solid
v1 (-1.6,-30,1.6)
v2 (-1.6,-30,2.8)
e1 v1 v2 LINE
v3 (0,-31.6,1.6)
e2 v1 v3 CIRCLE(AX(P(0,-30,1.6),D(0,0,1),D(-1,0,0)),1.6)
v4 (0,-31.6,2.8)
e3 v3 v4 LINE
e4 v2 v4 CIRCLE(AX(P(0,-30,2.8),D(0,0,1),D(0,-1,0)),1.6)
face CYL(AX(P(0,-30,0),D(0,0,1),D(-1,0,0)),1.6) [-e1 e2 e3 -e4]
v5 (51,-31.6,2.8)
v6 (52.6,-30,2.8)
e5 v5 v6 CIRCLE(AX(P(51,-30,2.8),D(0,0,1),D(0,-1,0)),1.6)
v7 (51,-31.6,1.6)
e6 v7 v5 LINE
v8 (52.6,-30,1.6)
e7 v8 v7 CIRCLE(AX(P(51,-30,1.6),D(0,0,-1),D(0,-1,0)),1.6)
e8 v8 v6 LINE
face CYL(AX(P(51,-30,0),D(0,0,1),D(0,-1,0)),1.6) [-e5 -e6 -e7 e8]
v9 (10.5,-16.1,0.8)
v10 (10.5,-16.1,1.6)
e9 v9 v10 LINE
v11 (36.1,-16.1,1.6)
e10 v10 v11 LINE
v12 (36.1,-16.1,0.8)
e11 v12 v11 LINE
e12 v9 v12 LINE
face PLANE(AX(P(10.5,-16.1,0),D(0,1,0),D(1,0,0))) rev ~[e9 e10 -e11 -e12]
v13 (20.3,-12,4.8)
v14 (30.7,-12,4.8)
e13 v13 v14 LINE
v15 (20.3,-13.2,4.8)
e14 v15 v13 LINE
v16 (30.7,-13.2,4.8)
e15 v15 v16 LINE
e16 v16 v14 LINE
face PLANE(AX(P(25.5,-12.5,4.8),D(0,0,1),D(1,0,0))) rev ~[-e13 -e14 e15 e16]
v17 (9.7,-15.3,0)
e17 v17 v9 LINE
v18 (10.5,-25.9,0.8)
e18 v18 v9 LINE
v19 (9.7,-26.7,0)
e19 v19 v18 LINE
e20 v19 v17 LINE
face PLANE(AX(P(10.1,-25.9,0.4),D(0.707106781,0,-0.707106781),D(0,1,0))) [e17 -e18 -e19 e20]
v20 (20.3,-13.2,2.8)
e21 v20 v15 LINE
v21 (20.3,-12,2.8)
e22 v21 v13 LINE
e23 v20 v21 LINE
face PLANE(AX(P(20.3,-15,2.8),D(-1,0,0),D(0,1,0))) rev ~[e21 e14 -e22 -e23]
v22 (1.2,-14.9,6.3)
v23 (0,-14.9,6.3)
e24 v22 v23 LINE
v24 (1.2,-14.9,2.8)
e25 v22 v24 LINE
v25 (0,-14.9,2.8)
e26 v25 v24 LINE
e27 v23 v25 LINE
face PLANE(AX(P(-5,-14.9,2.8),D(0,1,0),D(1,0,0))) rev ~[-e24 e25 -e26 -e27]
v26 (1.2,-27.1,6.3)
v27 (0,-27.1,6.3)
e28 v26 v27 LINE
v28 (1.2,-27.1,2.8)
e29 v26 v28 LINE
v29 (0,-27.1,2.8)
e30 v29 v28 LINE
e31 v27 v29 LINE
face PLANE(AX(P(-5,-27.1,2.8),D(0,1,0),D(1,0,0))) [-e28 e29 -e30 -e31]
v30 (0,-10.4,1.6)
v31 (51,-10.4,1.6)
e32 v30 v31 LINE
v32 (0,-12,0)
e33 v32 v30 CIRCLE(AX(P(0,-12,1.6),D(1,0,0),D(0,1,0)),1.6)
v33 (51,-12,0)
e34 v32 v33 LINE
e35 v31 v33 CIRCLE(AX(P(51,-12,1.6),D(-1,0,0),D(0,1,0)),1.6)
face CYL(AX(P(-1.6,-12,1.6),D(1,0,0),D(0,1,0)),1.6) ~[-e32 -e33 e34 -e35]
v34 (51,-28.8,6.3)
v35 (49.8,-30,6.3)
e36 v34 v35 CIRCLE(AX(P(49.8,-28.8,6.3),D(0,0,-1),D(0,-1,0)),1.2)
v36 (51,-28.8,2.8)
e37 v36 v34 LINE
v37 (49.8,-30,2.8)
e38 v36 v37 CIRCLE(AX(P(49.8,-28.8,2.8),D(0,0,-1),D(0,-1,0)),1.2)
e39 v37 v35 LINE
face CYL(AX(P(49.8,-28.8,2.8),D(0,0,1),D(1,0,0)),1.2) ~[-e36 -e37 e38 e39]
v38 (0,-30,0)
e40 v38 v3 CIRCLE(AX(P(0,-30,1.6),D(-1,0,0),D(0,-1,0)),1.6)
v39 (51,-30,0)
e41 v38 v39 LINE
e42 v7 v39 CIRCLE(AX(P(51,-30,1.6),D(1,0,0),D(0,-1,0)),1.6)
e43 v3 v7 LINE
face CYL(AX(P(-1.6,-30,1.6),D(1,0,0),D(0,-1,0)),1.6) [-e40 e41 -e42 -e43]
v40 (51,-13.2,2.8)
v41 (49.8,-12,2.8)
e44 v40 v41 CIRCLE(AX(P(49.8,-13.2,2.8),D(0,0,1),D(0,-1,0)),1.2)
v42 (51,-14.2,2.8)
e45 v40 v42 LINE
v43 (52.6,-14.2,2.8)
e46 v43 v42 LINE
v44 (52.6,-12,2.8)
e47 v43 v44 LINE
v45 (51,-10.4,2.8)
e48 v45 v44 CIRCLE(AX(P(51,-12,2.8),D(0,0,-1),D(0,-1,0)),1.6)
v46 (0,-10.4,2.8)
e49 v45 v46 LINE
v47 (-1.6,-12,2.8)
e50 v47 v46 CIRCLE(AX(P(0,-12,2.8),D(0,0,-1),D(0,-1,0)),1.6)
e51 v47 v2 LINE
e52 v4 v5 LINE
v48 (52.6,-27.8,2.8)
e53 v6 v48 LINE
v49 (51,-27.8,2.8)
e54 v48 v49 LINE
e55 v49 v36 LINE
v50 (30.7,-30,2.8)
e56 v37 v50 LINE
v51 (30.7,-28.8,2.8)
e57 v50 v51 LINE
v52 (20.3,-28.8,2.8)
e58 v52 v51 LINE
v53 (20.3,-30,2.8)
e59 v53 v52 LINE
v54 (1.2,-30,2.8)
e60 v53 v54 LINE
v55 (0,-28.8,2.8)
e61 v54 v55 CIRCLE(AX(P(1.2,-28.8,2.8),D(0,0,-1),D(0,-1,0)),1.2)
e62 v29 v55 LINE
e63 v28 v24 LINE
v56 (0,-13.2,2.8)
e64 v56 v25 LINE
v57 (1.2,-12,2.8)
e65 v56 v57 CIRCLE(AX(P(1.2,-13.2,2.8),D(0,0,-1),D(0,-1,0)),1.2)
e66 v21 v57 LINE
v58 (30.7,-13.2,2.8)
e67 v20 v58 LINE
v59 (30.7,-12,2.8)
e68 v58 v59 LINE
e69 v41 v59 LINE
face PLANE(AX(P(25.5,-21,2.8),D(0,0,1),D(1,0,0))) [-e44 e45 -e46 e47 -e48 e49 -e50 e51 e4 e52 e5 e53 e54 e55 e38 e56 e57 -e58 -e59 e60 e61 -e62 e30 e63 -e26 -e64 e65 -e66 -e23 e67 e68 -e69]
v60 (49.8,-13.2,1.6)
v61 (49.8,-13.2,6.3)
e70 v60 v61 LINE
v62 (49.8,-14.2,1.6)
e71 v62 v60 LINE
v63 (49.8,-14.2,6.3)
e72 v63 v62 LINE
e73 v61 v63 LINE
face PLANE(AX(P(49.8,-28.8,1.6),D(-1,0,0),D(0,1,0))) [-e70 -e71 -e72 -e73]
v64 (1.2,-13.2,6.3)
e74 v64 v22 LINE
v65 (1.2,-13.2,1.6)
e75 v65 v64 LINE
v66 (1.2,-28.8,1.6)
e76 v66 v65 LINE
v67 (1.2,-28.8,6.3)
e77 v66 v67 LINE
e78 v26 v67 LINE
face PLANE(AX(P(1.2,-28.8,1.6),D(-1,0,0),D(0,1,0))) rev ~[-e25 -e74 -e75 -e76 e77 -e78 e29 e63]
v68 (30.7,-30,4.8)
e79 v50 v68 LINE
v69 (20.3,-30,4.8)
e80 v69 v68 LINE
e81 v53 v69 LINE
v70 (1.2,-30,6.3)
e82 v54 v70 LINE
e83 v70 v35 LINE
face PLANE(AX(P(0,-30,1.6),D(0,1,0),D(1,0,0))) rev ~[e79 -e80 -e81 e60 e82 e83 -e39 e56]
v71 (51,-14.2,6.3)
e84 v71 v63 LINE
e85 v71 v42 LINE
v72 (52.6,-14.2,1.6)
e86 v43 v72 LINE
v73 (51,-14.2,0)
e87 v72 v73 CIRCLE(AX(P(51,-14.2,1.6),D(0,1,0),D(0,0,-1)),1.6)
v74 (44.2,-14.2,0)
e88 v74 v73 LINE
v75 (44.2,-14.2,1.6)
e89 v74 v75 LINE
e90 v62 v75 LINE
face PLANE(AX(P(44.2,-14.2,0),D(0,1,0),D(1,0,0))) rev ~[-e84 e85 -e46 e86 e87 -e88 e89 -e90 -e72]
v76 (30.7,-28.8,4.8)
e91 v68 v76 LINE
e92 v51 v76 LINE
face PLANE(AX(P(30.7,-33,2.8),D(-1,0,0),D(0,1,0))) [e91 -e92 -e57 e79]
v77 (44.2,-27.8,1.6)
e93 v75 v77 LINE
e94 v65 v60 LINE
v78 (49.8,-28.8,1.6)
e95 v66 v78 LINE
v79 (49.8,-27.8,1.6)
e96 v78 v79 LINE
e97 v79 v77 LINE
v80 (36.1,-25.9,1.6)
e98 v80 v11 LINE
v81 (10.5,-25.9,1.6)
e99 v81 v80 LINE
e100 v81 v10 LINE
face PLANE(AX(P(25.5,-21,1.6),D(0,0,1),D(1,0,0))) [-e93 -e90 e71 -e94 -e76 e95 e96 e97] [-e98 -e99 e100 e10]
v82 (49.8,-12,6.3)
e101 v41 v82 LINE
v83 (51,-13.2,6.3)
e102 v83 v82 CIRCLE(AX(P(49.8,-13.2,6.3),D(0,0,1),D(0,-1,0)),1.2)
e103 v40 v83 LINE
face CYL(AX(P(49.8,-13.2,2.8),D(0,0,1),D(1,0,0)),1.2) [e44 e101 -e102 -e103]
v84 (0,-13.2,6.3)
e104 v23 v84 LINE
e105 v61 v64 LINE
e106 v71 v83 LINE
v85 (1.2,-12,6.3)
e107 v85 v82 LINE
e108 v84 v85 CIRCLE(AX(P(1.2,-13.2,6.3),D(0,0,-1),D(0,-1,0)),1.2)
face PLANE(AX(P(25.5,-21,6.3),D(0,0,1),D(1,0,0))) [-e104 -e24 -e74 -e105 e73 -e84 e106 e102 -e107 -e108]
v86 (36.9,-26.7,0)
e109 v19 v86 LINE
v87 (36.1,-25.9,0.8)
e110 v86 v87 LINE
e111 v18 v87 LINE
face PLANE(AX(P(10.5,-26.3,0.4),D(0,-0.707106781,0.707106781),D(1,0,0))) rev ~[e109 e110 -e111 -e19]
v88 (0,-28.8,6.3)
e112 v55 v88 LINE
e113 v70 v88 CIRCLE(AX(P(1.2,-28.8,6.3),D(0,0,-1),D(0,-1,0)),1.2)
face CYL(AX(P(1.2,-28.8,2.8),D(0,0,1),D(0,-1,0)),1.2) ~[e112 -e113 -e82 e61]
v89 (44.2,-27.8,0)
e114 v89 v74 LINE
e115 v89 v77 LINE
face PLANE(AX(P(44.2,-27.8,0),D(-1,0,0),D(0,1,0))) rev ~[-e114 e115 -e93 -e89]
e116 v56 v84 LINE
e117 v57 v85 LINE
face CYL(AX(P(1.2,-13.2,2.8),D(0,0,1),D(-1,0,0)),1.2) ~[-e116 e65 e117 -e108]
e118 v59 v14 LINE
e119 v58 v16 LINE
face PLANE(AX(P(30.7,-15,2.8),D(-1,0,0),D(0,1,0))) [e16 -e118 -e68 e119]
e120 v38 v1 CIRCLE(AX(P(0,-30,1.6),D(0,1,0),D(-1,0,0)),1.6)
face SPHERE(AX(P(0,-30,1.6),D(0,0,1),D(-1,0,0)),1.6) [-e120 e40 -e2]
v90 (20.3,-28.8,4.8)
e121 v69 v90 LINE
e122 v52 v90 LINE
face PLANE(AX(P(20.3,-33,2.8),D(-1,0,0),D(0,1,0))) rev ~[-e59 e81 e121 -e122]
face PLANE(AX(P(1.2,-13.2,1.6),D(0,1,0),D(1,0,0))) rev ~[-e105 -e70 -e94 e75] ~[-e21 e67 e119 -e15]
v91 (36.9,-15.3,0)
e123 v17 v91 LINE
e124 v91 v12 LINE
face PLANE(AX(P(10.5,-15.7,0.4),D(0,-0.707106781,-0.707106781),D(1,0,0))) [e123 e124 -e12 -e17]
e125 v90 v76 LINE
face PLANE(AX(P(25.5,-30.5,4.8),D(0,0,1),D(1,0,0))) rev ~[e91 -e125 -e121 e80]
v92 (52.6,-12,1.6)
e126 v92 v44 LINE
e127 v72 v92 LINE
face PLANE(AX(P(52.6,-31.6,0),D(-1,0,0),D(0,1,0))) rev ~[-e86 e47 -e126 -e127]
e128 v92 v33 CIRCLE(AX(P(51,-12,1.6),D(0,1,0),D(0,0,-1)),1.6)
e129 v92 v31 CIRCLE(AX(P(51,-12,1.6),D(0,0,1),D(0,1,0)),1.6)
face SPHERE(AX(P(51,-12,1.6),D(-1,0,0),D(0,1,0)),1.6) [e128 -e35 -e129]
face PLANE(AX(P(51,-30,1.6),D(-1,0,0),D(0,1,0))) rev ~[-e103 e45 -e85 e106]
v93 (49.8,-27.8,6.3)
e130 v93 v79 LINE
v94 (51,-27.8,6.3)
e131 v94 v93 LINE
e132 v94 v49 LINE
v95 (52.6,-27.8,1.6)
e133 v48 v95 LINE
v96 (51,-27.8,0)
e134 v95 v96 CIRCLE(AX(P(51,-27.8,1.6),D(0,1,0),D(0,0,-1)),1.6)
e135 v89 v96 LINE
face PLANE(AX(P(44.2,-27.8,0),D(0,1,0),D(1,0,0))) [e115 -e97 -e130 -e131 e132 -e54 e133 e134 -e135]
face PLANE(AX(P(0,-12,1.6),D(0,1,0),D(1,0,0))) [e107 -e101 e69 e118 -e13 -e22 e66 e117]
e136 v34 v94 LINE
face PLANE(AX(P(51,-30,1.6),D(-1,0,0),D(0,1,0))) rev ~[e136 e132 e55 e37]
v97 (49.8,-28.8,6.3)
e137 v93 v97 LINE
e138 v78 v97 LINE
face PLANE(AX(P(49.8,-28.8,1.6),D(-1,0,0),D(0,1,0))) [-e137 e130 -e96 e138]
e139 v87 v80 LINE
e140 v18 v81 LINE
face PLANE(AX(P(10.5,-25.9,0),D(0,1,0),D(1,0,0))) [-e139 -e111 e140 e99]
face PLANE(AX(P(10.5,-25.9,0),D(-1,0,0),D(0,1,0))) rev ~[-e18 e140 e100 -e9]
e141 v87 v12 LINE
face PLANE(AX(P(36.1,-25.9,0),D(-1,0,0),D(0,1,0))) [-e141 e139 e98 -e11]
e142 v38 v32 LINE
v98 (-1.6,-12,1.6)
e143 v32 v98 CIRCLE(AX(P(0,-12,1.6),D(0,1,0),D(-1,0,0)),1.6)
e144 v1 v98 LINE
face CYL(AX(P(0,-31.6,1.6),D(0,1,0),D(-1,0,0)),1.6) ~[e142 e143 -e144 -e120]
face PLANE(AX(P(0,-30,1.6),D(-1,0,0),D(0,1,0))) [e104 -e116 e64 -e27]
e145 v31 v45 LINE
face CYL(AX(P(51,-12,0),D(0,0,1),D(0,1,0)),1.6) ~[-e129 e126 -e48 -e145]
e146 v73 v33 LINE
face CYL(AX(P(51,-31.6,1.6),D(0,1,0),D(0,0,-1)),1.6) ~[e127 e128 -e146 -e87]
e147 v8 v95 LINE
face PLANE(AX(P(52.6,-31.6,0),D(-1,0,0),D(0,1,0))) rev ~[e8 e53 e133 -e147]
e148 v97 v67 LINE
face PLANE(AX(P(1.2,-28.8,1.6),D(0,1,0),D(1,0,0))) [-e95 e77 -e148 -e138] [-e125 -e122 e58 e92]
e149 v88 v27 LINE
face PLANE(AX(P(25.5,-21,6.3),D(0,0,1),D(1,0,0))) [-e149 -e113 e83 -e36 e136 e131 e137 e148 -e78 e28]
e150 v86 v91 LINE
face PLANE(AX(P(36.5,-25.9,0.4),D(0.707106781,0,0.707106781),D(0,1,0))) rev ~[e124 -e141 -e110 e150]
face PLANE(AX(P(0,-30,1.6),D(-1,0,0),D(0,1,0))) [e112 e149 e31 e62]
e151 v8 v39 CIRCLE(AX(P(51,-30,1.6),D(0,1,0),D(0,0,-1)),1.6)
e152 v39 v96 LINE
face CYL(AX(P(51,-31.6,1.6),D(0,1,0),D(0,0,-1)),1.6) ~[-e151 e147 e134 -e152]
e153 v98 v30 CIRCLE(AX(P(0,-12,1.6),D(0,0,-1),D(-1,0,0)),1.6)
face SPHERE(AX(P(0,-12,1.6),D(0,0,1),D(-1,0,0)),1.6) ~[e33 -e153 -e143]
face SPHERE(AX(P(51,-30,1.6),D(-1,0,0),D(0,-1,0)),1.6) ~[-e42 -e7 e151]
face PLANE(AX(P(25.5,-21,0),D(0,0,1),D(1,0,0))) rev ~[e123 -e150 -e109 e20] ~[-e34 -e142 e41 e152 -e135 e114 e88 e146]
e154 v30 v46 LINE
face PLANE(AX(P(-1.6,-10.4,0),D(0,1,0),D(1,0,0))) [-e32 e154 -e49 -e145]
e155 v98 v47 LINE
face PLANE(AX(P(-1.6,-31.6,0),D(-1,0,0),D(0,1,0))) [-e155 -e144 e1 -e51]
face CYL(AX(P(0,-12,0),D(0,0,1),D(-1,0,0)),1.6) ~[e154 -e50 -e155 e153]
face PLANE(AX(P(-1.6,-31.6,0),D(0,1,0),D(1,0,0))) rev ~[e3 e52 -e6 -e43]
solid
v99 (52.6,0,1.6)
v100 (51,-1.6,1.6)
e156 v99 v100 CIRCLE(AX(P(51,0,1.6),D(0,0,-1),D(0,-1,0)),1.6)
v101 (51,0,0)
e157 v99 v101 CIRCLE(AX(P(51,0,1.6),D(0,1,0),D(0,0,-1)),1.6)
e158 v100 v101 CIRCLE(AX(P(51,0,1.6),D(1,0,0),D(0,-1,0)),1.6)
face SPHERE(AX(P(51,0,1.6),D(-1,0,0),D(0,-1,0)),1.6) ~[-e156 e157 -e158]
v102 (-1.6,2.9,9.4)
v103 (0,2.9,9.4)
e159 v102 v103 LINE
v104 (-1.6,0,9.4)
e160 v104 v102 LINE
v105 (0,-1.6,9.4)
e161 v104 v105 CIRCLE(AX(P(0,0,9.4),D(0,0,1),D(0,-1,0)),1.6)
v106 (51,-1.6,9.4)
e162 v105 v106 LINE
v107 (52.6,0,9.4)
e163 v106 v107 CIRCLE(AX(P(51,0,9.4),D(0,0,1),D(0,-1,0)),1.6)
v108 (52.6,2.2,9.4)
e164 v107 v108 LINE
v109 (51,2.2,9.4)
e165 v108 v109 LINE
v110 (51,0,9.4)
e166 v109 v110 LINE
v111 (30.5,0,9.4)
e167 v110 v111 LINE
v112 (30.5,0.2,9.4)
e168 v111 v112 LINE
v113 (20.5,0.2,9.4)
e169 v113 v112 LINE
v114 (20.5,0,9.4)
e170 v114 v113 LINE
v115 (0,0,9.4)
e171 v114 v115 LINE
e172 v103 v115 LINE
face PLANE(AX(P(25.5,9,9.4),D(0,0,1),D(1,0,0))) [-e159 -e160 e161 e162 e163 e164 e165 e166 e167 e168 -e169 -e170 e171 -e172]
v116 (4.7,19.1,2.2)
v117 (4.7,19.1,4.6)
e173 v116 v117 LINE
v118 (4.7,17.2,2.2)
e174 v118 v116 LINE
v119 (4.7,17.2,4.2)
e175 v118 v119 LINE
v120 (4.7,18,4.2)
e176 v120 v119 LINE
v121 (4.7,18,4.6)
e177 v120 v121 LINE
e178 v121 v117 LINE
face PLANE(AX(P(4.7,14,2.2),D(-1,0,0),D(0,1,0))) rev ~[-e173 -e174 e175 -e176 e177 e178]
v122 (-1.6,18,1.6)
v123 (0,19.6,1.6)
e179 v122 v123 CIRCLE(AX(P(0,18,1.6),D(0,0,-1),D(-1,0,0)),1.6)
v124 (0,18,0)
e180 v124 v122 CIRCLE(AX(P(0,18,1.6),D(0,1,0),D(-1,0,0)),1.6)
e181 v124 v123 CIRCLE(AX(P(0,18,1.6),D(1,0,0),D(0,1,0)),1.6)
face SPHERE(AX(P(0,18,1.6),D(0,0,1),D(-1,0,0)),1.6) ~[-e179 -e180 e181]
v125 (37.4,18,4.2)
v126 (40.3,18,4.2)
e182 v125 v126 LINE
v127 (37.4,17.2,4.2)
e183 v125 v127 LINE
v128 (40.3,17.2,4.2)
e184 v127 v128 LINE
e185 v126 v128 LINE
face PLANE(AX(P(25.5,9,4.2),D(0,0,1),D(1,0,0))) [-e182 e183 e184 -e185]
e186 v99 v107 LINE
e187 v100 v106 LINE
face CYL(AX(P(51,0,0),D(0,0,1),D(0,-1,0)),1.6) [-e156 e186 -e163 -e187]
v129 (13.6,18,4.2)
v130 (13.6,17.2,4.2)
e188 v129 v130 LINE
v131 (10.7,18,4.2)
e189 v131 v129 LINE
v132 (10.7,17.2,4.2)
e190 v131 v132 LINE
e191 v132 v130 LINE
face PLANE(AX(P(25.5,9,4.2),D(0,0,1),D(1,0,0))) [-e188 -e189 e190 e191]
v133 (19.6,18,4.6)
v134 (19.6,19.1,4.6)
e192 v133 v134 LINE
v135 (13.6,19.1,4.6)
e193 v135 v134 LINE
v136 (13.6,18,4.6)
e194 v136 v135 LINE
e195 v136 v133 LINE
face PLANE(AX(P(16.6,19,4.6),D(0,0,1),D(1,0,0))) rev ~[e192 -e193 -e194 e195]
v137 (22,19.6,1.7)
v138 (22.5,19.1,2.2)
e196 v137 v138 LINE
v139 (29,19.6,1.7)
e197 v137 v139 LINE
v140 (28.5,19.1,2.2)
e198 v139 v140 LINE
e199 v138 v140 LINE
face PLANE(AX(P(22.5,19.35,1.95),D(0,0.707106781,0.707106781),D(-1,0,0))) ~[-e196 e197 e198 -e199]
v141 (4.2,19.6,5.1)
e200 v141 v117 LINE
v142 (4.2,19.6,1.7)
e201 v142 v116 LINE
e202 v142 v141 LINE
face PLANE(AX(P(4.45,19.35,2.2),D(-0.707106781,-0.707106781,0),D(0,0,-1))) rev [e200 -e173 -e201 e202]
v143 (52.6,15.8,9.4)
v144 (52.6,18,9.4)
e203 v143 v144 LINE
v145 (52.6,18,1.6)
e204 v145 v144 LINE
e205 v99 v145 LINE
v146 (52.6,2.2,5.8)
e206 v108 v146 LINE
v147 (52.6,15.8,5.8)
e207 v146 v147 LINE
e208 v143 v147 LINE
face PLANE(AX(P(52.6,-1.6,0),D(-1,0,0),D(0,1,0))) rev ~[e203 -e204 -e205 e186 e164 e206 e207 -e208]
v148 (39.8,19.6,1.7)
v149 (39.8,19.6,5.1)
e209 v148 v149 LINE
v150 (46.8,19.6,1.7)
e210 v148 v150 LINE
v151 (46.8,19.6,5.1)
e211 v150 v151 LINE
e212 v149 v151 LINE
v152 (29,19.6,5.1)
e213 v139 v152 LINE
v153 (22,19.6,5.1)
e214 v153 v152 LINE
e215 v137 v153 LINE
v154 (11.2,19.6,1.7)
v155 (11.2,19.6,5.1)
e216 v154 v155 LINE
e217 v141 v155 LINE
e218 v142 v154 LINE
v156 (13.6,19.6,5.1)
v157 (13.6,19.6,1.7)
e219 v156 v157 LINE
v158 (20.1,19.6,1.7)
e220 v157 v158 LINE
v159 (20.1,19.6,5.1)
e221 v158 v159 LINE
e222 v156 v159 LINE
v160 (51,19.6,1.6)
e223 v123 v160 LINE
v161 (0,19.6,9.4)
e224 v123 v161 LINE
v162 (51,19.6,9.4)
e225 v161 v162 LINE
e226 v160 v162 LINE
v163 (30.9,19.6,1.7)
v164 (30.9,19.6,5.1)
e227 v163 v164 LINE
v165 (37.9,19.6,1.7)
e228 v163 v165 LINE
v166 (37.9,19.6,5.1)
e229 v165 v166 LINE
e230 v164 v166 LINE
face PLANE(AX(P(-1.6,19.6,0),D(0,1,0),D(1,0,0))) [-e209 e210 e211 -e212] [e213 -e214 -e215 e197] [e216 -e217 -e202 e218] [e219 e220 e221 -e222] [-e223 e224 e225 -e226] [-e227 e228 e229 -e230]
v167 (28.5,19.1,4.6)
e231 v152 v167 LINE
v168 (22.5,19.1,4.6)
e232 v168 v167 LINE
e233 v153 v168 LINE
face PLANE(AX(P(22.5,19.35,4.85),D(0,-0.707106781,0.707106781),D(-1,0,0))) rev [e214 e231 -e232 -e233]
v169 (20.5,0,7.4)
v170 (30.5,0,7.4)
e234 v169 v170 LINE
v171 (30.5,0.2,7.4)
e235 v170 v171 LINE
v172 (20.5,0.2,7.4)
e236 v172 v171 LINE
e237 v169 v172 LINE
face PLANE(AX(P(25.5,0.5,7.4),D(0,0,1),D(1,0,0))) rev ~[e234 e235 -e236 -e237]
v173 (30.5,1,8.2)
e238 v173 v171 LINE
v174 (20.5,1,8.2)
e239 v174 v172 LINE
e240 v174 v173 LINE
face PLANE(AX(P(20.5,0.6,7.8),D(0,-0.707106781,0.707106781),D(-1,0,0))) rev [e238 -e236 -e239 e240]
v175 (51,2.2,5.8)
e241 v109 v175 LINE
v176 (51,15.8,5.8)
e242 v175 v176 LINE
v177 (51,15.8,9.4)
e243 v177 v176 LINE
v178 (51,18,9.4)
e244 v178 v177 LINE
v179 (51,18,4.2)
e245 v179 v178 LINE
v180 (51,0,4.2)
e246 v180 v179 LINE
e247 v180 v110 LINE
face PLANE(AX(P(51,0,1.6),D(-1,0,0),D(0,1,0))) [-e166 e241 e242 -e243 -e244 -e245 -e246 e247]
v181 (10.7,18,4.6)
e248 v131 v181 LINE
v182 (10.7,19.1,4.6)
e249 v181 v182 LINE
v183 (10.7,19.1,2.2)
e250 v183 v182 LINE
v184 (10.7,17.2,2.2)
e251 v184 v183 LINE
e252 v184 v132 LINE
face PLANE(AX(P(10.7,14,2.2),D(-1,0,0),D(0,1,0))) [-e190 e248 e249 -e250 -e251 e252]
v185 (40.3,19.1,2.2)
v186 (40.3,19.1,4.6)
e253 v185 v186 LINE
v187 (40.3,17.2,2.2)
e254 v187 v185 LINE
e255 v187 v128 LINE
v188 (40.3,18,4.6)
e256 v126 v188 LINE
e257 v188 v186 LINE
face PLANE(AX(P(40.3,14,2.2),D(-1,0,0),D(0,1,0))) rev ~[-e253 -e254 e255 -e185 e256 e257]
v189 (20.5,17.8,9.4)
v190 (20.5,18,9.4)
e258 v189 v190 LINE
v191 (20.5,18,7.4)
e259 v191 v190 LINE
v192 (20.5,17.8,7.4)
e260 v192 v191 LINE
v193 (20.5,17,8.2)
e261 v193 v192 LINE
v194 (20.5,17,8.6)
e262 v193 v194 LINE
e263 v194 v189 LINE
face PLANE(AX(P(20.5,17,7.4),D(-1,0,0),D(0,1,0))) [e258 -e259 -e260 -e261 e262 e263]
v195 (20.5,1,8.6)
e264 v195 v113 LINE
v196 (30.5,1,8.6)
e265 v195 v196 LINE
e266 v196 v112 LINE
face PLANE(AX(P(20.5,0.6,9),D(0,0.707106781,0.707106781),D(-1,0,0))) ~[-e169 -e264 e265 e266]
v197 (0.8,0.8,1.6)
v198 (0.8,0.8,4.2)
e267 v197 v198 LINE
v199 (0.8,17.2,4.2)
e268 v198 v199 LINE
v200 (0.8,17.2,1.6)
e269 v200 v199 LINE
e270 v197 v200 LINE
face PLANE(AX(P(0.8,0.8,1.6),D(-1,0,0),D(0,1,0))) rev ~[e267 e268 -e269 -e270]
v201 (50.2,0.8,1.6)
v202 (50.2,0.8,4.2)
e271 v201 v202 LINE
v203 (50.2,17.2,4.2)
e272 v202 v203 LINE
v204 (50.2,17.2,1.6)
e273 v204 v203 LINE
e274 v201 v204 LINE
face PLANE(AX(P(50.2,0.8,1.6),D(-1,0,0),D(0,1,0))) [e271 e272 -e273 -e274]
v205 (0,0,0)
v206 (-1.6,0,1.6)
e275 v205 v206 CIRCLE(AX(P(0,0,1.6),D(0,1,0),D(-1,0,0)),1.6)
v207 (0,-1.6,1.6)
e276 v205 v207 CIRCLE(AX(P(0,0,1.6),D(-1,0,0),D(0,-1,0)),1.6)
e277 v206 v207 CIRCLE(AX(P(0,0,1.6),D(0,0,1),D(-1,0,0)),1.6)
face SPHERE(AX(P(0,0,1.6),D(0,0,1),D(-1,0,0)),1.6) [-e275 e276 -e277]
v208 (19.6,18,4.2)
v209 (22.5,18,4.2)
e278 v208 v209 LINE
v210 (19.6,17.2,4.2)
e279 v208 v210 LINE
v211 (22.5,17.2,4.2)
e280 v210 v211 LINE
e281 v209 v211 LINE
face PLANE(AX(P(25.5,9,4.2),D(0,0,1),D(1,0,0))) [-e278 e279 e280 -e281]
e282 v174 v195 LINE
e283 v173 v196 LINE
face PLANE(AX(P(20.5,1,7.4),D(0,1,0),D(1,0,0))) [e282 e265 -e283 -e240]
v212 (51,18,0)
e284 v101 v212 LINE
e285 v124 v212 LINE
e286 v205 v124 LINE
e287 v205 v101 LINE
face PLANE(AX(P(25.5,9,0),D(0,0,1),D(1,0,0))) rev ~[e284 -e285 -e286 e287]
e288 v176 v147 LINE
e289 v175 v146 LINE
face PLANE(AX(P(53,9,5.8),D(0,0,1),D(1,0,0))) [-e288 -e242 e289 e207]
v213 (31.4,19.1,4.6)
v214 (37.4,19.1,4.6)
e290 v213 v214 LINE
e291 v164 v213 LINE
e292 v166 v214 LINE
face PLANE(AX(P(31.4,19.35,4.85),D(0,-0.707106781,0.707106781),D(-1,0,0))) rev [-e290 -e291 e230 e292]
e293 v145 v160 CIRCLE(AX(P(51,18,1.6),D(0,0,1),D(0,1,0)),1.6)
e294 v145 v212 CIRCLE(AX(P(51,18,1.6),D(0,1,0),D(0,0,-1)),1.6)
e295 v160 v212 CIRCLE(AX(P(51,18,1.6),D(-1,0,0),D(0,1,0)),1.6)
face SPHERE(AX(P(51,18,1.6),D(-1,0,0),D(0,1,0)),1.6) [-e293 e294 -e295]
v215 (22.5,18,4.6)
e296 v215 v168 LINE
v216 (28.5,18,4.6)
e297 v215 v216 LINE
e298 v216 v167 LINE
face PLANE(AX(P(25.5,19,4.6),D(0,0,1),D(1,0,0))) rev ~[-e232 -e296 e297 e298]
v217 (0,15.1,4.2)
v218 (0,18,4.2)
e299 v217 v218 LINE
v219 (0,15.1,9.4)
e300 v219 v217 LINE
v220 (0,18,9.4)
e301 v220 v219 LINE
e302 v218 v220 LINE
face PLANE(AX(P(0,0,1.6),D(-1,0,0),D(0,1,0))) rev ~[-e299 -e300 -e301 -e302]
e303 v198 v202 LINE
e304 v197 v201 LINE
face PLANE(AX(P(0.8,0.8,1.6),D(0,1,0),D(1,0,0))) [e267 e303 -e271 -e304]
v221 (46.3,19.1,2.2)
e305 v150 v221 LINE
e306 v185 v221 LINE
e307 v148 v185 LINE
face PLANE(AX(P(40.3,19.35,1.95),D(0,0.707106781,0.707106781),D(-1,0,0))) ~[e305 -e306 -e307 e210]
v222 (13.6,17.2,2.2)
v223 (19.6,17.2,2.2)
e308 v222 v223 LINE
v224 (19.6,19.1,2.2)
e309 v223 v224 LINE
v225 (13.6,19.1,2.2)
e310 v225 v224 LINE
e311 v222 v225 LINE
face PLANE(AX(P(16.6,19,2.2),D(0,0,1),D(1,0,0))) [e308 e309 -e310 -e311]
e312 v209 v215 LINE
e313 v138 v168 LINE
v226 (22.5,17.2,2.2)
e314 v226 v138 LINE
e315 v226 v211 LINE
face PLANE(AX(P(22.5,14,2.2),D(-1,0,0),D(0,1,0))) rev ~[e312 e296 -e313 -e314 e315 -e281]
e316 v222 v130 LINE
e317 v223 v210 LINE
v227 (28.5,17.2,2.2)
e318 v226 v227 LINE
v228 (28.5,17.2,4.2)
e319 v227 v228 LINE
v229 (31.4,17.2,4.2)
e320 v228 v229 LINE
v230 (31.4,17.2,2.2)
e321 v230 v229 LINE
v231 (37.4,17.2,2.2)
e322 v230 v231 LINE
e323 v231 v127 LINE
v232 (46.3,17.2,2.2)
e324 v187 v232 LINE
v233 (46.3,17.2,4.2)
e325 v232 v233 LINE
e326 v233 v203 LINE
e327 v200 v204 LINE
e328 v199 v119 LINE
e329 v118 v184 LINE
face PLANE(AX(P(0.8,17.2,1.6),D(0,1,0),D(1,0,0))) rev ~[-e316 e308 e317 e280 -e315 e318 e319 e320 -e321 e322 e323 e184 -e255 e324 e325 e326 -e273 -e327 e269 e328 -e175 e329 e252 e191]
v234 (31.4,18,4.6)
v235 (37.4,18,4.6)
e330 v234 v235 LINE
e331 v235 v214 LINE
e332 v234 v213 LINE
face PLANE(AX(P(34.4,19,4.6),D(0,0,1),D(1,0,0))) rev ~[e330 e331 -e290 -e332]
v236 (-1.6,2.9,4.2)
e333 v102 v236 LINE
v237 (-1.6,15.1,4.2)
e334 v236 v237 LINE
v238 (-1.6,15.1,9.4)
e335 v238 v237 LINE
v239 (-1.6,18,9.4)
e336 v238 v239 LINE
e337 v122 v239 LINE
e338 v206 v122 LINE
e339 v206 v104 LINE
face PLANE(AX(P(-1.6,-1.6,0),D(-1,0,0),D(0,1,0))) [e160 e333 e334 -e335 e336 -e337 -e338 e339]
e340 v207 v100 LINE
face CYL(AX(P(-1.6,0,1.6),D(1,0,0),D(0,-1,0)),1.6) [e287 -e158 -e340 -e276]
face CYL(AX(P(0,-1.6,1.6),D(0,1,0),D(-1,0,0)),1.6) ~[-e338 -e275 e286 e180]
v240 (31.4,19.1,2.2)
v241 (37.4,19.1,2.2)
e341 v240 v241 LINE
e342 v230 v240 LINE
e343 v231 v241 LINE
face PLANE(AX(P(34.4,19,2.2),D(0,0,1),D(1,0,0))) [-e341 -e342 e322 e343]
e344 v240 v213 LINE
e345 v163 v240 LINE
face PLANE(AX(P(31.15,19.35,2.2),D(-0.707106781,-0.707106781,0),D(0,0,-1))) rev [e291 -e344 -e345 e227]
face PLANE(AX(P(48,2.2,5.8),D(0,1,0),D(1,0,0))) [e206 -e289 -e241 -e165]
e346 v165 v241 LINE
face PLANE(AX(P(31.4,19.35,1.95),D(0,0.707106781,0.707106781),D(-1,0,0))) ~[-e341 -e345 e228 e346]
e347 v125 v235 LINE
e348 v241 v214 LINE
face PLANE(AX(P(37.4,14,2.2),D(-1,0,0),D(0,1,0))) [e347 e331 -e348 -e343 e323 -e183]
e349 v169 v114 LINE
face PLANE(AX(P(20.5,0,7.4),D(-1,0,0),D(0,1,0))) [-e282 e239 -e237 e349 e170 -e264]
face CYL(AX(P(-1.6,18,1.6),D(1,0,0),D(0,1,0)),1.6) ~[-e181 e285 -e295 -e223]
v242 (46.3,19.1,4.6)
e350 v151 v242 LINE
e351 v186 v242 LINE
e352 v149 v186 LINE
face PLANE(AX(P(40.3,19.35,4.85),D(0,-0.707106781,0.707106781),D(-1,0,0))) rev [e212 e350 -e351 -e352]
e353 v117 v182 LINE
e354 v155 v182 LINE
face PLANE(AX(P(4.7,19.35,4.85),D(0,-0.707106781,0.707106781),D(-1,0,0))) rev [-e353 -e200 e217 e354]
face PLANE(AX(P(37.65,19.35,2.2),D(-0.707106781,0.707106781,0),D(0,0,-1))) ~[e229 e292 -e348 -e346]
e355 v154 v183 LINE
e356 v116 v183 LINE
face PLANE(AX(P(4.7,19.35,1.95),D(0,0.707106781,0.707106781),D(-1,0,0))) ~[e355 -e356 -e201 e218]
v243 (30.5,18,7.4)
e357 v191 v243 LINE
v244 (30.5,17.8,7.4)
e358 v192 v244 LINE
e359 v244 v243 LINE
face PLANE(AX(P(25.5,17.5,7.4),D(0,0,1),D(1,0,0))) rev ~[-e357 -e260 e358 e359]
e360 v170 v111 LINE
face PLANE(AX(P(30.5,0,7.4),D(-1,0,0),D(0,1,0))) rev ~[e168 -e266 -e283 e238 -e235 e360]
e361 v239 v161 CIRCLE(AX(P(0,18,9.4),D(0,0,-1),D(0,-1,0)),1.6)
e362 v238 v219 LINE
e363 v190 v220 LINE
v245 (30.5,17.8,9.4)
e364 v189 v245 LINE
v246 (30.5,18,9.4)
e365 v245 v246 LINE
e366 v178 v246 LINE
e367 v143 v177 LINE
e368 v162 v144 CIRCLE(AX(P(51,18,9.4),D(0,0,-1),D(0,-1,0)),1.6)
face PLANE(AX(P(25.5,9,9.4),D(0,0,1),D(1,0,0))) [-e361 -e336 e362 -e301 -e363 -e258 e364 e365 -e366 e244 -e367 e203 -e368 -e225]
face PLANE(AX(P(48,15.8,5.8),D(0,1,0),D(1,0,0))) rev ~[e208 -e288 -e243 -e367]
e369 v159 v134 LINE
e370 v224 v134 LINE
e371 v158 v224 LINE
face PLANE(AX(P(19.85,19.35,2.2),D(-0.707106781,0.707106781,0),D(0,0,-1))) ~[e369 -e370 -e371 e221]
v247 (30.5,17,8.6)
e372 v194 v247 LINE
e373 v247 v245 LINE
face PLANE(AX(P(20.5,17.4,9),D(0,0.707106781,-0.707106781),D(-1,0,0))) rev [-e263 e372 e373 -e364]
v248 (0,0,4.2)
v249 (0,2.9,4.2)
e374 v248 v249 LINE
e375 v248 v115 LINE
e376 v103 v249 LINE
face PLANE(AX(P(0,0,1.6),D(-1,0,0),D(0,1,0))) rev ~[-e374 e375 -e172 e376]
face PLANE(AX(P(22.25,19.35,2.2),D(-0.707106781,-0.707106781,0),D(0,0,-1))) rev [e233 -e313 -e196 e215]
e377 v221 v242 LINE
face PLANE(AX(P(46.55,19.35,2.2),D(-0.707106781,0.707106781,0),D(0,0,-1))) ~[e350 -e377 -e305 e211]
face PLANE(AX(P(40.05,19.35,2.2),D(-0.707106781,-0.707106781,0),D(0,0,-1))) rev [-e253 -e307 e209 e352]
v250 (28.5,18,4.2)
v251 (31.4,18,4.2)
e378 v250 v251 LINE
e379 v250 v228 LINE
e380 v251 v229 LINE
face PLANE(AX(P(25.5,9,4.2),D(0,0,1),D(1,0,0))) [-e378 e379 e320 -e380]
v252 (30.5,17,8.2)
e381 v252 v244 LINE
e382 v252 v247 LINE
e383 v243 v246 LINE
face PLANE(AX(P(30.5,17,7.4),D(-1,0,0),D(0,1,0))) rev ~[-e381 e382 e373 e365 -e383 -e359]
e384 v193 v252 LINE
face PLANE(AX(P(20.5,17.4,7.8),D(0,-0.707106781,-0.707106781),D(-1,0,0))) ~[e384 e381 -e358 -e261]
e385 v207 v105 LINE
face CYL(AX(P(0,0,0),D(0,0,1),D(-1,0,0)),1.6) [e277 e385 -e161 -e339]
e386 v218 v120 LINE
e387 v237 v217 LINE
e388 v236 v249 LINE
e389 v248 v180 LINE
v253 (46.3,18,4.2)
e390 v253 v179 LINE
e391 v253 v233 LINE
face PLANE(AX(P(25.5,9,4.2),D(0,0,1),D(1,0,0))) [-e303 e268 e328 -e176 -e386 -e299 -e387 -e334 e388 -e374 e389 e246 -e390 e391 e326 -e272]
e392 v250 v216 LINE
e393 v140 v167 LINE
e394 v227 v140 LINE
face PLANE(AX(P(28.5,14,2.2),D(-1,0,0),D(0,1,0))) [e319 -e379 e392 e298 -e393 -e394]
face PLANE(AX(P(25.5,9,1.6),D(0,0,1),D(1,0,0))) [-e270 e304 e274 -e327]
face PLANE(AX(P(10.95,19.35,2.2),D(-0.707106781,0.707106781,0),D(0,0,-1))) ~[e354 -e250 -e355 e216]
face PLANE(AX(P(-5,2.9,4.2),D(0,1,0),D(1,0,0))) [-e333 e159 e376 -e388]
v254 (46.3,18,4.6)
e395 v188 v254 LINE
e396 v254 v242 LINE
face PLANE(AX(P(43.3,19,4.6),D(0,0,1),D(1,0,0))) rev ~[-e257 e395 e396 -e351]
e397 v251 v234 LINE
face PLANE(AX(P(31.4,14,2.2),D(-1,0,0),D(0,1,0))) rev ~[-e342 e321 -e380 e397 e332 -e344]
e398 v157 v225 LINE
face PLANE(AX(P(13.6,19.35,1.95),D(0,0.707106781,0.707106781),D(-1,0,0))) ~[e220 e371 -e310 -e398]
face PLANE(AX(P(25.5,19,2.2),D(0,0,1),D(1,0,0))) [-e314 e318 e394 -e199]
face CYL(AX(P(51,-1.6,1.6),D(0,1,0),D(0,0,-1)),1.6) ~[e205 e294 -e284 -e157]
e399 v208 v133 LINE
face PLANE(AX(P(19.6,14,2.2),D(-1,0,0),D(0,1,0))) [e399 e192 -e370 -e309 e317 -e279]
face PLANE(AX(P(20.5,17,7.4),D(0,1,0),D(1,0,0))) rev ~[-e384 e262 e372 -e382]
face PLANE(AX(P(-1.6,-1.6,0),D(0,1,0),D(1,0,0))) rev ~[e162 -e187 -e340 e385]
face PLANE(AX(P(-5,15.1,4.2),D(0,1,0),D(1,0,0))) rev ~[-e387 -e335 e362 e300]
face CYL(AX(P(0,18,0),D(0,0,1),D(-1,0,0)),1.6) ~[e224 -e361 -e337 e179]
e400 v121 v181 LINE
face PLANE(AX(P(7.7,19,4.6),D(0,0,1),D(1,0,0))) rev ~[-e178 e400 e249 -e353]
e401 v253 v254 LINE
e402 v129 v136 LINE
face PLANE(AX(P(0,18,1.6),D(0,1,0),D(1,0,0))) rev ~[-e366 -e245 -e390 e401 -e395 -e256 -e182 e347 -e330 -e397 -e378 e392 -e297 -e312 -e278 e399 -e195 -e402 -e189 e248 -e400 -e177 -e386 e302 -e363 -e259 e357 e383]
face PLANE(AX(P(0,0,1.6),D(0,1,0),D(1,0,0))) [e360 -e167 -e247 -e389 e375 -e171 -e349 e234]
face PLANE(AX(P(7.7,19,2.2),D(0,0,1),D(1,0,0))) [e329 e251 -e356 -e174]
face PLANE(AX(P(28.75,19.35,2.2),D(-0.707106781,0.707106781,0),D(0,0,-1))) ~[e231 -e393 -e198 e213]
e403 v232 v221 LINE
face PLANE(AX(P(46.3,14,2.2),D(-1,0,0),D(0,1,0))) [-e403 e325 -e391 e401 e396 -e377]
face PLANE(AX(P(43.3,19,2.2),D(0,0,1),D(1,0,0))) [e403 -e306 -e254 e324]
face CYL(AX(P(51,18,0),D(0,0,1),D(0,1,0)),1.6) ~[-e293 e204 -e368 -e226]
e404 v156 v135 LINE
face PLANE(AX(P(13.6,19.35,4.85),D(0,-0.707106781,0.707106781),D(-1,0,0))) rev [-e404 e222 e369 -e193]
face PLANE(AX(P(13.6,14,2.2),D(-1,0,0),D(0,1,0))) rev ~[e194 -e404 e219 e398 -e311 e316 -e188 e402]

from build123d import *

# Parameters (mm, degrees)
BOX007_W        = 10
BOX007_H        = 13.6
BOX007_DEPTH    = 10
BOX008_W        = 6
BOX008_H        = 10
BOX008_DEPTH    = 2.4
BOX009_W        = 6
BOX009_H        = 10
BOX009_DEPTH    = 2.4
BOX019_W        = 6
BOX019_H        = 10
BOX019_DEPTH    = 2.4
BOX020_W        = 6
BOX020_H        = 10
BOX020_DEPTH    = 2.4
BOX021_W        = 6
BOX021_H        = 10
BOX021_DEPTH    = 2.4
BOX006_W        = 10
BOX006_H        = 12.2
BOX006_DEPTH    = 5.2
BOX003_W        = 49.4
BOX003_H        = 16.4
BOX003_DEPTH    = 2.6
BOX002_W        = 51
BOX002_H        = 18
BOX002_DEPTH    = 2.6
BOX005_W        = 10
BOX005_H        = 1
BOX005_DEPTH    = 2
CHAMFER001_SIZE = 0.8
BOX004_W        = 10
BOX004_H        = 1
BOX004_DEPTH    = 2
CHAMFER_SIZE    = 0.8
BOX001_W        = 51
BOX001_H        = 18
BOX001_DEPTH    = 9.4
BOX_W           = 54.2
BOX_H           = 21.2
BOX_DEPTH       = 9.4
FILLET_R        = 1.6
CHAMFER002_SIZE = 0.5
BOX015_W        = 10
BOX015_H        = 12.2
BOX015_DEPTH    = 5.2
BOX016_W        = 10
BOX016_H        = 13.6
BOX016_DEPTH    = 10
BOX017_W        = 10.4
BOX017_H        = 5
BOX017_DEPTH    = 2
BOX018_W        = 10.4
BOX018_H        = 5
BOX018_DEPTH    = 2
BOX014_W        = 25.6
BOX014_H        = 9.8
BOX014_DEPTH    = 1.6
BOX013_W        = 48.6
BOX013_H        = 15.6
BOX013_DEPTH    = 4.8
BOX012_W        = 51
BOX012_H        = 18
BOX012_DEPTH    = 4.7
BOX011_W        = 51
BOX011_H        = 18
BOX011_DEPTH    = 9.4
BOX010_W        = 54.2
BOX010_H        = 21.2
BOX010_DEPTH    = 2.8
FILLET001_R     = 1.6
CHAMFER003_SIZE = 0.8
FILLET002_R     = 1.2


with BuildPart() as usb_buchse:
    # Box007 → Box007 (new body)
    with BuildSketch(Plane(origin=(48, 2.2, 5.8), x_dir=(1, 0, 0), z_dir=(0, 0, 1))):
        with Locations((5, 6.8)):
            Rectangle(BOX007_W, BOX007_H)
    extrude(amount=BOX007_DEPTH)


with BuildPart() as button1:
    # Box008 → Box008 (new body)
    with BuildSketch(Plane(origin=(4.7, 14, 2.2), x_dir=(1, 0, 0), z_dir=(0, 0, 1))):
        with Locations((3, 5)):
            Rectangle(BOX008_W, BOX008_H)
    extrude(amount=BOX008_DEPTH)


with BuildPart() as button2:
    # Box009 → Box009 (new body)
    with BuildSketch(Plane(origin=(13.6, 14, 2.2), x_dir=(1, 0, 0), z_dir=(0, 0, 1))):
        with Locations((3, 5)):
            Rectangle(BOX009_W, BOX009_H)
    extrude(amount=BOX009_DEPTH)


with BuildPart() as button3:
    # Box019 → Box019 (new body)
    with BuildSketch(Plane(origin=(22.5, 14, 2.2), x_dir=(1, 0, 0), z_dir=(0, 0, 1))):
        with Locations((3, 5)):
            Rectangle(BOX019_W, BOX019_H)
    extrude(amount=BOX019_DEPTH)


with BuildPart() as button4:
    # Box020 → Box020 (new body)
    with BuildSketch(Plane(origin=(31.4, 14, 2.2), x_dir=(1, 0, 0), z_dir=(0, 0, 1))):
        with Locations((3, 5)):
            Rectangle(BOX020_W, BOX020_H)
    extrude(amount=BOX020_DEPTH)


with BuildPart() as button5:
    # Box021 → Box021 (new body)
    with BuildSketch(Plane(origin=(40.3, 14, 2.2), x_dir=(1, 0, 0), z_dir=(0, 0, 1))):
        with Locations((3, 5)):
            Rectangle(BOX021_W, BOX021_H)
    extrude(amount=BOX021_DEPTH)


with BuildPart() as bottom_cutouts:
    # Box006 → Box006 (new body)
    with BuildSketch(Plane(origin=(-5, 2.9, 4.2), x_dir=(1, 0, 0), z_dir=(0, 0, 1))):
        with Locations((5, 6.1)):
            Rectangle(BOX006_W, BOX006_H)
    extrude(amount=BOX006_DEPTH)

    # Fusion001: union USB_Buchse, Button1, Button2, Button3, Button4, Button5
    add(usb_buchse.part)
    add(button1.part)
    add(button2.part)
    add(button3.part)
    add(button4.part)
    add(button5.part)


with BuildPart() as auflage_innen:
    # Box003 → Box003 (new body)
    with BuildSketch(Plane(origin=(0.8, 0.8, 1.6), x_dir=(1, 0, 0), z_dir=(0, 0, 1))):
        with Locations((24.7, 8.2)):
            Rectangle(BOX003_W, BOX003_H)
    extrude(amount=BOX003_DEPTH)


with BuildPart() as auflage:
    # Box002 → Box002 (new body)
    with BuildSketch(Plane.XY.offset(1.6)):
        with Locations((25.5, 9)):
            Rectangle(BOX002_W, BOX002_H)
    extrude(amount=BOX002_DEPTH)

    # Cut001: cut Auflage_innen
    add(auflage_innen.part, mode=Mode.SUBTRACT)


with BuildPart() as haken2:
    # Box005 → Box005 (new body)
    with BuildSketch(Plane(origin=(20.5, 17, 7.4), x_dir=(1, 0, 0), z_dir=(0, 0, 1))):
        with Locations((5, 0.5)):
            Rectangle(BOX005_W, BOX005_H)
    extrude(amount=BOX005_DEPTH)

    # Chamfer001
    chamfer001_edges = [haken2.edges().sort_by_distance(p)[0] for p in [
        (25.5, 17, 7.4),
        (25.5, 17, 9.4),
    ]]
    chamfer(chamfer001_edges, length=CHAMFER001_SIZE)


with BuildPart() as haken1:
    # Box004 → Box004 (new body)
    with BuildSketch(Plane(origin=(20.5, 0, 7.4), x_dir=(1, 0, 0), z_dir=(0, 0, 1))):
        with Locations((5, 0.5)):
            Rectangle(BOX004_W, BOX004_H)
    extrude(amount=BOX004_DEPTH)

    # Chamfer
    chamfer_edges = [haken1.edges().sort_by_distance(p)[0] for p in [
        (25.5, 1, 7.4),
        (25.5, 1, 9.4),
    ]]
    chamfer(chamfer_edges, length=CHAMFER_SIZE)


with BuildPart() as unten_innen:
    # Box001 → Box001 (new body)
    with BuildSketch(Plane.XY.offset(1.6)):
        with Locations((25.5, 9)):
            Rectangle(BOX001_W, BOX001_H)
    extrude(amount=BOX001_DEPTH)


with BuildPart() as case_bottom:
    # Box → Box (new body)
    with BuildSketch(Plane(origin=(-1.6, -1.6, 0), x_dir=(1, 0, 0), z_dir=(0, 0, 1))):
        with Locations((27.1, 10.6)):
            Rectangle(BOX_W, BOX_H)
    extrude(amount=BOX_DEPTH)

    # Cut: cut unten_innen
    add(unten_innen.part, mode=Mode.SUBTRACT)

    # Fillet
    fillet_edges = [case_bottom.edges().sort_by_distance(p)[0] for p in [
        (-1.6, -1.6, 4.7),
        (-1.6, 19.6, 4.7),
        (-1.6, 9, 0),
        (25.5, -1.6, 0),
        (52.6, -1.6, 4.7),
        (25.5, 19.6, 0),
        (52.6, 19.6, 4.7),
        (52.6, 9, 0),
    ]]
    fillet(fillet_edges, radius=FILLET_R)

    # Fusion: union Auflage, Haken2, Haken1
    add(auflage.part)
    add(haken2.part)
    add(haken1.part)

    # Cut004: cut bottom_cutouts
    add(bottom_cutouts.part, mode=Mode.SUBTRACT)

    # Chamfer002
    chamfer002_edges = [case_bottom.edges().sort_by_distance(p)[0] for p in [
        (43.3, 19.6, 4.6),
        (46.3, 19.6, 3.4),
        (43.3, 19.6, 2.2),
        (40.3, 19.6, 3.4),
        (34.4, 19.6, 4.6),
        (37.4, 19.6, 3.4),
        (34.4, 19.6, 2.2),
        (31.4, 19.6, 3.4),
        (16.6, 19.6, 4.6),
        (19.6, 19.6, 3.4),
        (16.6, 19.6, 2.2),
        (25.5, 19.6, 4.6),
        (28.5, 19.6, 3.4),
        (25.5, 19.6, 2.2),
        (22.5, 19.6, 3.4),
        (7.7, 19.6, 4.6),
        (10.7, 19.6, 3.4),
        (7.7, 19.6, 2.2),
        (4.7, 19.6, 3.4),
    ]]
    chamfer(chamfer002_edges, length=CHAMFER002_SIZE)


with BuildPart() as usb_stecker2:
    # Box015 → Box015 (new body)
    with BuildSketch(Plane(origin=(-5, -27.1, 2.8), x_dir=(1, 0, 0), z_dir=(0, 0, 1))):
        with Locations((5, 6.1)):
            Rectangle(BOX015_W, BOX015_H)
    extrude(amount=BOX015_DEPTH)


with BuildPart() as usb_buchse2:
    # Box016 → Box016 (new body)
    with BuildSketch(Plane(origin=(44.2, -27.8, 0), x_dir=(1, 0, 0), z_dir=(0, 0, 1))):
        with Locations((5, 6.8)):
            Rectangle(BOX016_W, BOX016_H)
    extrude(amount=BOX016_DEPTH)


with BuildPart() as oese1:
    # Box017 → Box017 (new body)
    with BuildSketch(Plane(origin=(20.3, -33, 2.8), x_dir=(1, 0, 0), z_dir=(0, 0, 1))):
        with Locations((5.2, 2.5)):
            Rectangle(BOX017_W, BOX017_H)
    extrude(amount=BOX017_DEPTH)


with BuildPart() as oese2:
    # Box018 → Box018 (new body)
    with BuildSketch(Plane(origin=(20.3, -15, 2.8), x_dir=(1, 0, 0), z_dir=(0, 0, 1))):
        with Locations((5.2, 2.5)):
            Rectangle(BOX018_W, BOX018_H)
    extrude(amount=BOX018_DEPTH)


with BuildPart() as top_cutouts:
    # Box014 → Box014 (new body)
    with BuildSketch(Plane(origin=(10.5, -25.9, 0), x_dir=(1, 0, 0), z_dir=(0, 0, 1))):
        with Locations((12.8, 4.9)):
            Rectangle(BOX014_W, BOX014_H)
    extrude(amount=BOX014_DEPTH)

    # Fusion003: union USB_Stecker2, USB_Buchse2, Oese1, Oese2
    add(usb_stecker2.part)
    add(usb_buchse2.part)
    add(oese1.part)
    add(oese2.part)


with BuildPart() as rahmen_innen:
    # Box013 → Box013 (new body)
    with BuildSketch(Plane(origin=(1.2, -28.8, 1.6), x_dir=(1, 0, 0), z_dir=(0, 0, 1))):
        with Locations((24.3, 7.8)):
            Rectangle(BOX013_W, BOX013_H)
    extrude(amount=BOX013_DEPTH)


with BuildPart() as rahmen:
    # Box012 → Box012 (new body)
    with BuildSketch(Plane(origin=(0, -30, 1.6), x_dir=(1, 0, 0), z_dir=(0, 0, 1))):
        with Locations((25.5, 9)):
            Rectangle(BOX012_W, BOX012_H)
    extrude(amount=BOX012_DEPTH)

    # Cut003: cut Rahmen_innen
    add(rahmen_innen.part, mode=Mode.SUBTRACT)


with BuildPart() as oben_innen:
    # Box011 → Box011 (new body)
    with BuildSketch(Plane(origin=(0, -30, 1.6), x_dir=(1, 0, 0), z_dir=(0, 0, 1))):
        with Locations((25.5, 9)):
            Rectangle(BOX011_W, BOX011_H)
    extrude(amount=BOX011_DEPTH)


with BuildPart() as case_top:
    # Box010 → Box010 (new body)
    with BuildSketch(Plane(origin=(-1.6, -31.6, 0), x_dir=(1, 0, 0), z_dir=(0, 0, 1))):
        with Locations((27.1, 10.6)):
            Rectangle(BOX010_W, BOX010_H)
    extrude(amount=BOX010_DEPTH)

    # Cut002: cut oben_innen
    add(oben_innen.part, mode=Mode.SUBTRACT)

    # Fillet001
    fillet001_edges = [case_top.edges().sort_by_distance(p)[0] for p in [
        (-1.6, -31.6, 1.4),
        (-1.6, -10.4, 1.4),
        (-1.6, -21, 0),
        (25.5, -31.6, 0),
        (52.6, -31.6, 1.4),
        (25.5, -10.4, 0),
        (52.6, -10.4, 1.4),
        (52.6, -21, 0),
    ]]
    fillet(fillet001_edges, radius=FILLET001_R)

    # Fusion002: union Rahmen
    add(rahmen.part)

    # Cut005: cut top_cutouts
    add(top_cutouts.part, mode=Mode.SUBTRACT)

    # Chamfer003
    chamfer003_edges = [case_top.edges().sort_by_distance(p)[0] for p in [
        (23.3, -16.1, 0),
        (10.5, -21, 0),
        (23.3, -25.9, 0),
        (36.1, -21, 0),
    ]]
    chamfer(chamfer003_edges, length=CHAMFER003_SIZE)

    # Fillet002
    fillet002_edges = [case_top.edges().sort_by_distance(p)[0] for p in [
        (51, -12, 4.55),
        (51, -30, 4.55),
        (0, -12, 4.55),
        (0, -30, 4.55),
    ]]
    fillet(fillet002_edges, radius=FILLET002_R)


solid = Compound([case_bottom.part, case_top.part])
